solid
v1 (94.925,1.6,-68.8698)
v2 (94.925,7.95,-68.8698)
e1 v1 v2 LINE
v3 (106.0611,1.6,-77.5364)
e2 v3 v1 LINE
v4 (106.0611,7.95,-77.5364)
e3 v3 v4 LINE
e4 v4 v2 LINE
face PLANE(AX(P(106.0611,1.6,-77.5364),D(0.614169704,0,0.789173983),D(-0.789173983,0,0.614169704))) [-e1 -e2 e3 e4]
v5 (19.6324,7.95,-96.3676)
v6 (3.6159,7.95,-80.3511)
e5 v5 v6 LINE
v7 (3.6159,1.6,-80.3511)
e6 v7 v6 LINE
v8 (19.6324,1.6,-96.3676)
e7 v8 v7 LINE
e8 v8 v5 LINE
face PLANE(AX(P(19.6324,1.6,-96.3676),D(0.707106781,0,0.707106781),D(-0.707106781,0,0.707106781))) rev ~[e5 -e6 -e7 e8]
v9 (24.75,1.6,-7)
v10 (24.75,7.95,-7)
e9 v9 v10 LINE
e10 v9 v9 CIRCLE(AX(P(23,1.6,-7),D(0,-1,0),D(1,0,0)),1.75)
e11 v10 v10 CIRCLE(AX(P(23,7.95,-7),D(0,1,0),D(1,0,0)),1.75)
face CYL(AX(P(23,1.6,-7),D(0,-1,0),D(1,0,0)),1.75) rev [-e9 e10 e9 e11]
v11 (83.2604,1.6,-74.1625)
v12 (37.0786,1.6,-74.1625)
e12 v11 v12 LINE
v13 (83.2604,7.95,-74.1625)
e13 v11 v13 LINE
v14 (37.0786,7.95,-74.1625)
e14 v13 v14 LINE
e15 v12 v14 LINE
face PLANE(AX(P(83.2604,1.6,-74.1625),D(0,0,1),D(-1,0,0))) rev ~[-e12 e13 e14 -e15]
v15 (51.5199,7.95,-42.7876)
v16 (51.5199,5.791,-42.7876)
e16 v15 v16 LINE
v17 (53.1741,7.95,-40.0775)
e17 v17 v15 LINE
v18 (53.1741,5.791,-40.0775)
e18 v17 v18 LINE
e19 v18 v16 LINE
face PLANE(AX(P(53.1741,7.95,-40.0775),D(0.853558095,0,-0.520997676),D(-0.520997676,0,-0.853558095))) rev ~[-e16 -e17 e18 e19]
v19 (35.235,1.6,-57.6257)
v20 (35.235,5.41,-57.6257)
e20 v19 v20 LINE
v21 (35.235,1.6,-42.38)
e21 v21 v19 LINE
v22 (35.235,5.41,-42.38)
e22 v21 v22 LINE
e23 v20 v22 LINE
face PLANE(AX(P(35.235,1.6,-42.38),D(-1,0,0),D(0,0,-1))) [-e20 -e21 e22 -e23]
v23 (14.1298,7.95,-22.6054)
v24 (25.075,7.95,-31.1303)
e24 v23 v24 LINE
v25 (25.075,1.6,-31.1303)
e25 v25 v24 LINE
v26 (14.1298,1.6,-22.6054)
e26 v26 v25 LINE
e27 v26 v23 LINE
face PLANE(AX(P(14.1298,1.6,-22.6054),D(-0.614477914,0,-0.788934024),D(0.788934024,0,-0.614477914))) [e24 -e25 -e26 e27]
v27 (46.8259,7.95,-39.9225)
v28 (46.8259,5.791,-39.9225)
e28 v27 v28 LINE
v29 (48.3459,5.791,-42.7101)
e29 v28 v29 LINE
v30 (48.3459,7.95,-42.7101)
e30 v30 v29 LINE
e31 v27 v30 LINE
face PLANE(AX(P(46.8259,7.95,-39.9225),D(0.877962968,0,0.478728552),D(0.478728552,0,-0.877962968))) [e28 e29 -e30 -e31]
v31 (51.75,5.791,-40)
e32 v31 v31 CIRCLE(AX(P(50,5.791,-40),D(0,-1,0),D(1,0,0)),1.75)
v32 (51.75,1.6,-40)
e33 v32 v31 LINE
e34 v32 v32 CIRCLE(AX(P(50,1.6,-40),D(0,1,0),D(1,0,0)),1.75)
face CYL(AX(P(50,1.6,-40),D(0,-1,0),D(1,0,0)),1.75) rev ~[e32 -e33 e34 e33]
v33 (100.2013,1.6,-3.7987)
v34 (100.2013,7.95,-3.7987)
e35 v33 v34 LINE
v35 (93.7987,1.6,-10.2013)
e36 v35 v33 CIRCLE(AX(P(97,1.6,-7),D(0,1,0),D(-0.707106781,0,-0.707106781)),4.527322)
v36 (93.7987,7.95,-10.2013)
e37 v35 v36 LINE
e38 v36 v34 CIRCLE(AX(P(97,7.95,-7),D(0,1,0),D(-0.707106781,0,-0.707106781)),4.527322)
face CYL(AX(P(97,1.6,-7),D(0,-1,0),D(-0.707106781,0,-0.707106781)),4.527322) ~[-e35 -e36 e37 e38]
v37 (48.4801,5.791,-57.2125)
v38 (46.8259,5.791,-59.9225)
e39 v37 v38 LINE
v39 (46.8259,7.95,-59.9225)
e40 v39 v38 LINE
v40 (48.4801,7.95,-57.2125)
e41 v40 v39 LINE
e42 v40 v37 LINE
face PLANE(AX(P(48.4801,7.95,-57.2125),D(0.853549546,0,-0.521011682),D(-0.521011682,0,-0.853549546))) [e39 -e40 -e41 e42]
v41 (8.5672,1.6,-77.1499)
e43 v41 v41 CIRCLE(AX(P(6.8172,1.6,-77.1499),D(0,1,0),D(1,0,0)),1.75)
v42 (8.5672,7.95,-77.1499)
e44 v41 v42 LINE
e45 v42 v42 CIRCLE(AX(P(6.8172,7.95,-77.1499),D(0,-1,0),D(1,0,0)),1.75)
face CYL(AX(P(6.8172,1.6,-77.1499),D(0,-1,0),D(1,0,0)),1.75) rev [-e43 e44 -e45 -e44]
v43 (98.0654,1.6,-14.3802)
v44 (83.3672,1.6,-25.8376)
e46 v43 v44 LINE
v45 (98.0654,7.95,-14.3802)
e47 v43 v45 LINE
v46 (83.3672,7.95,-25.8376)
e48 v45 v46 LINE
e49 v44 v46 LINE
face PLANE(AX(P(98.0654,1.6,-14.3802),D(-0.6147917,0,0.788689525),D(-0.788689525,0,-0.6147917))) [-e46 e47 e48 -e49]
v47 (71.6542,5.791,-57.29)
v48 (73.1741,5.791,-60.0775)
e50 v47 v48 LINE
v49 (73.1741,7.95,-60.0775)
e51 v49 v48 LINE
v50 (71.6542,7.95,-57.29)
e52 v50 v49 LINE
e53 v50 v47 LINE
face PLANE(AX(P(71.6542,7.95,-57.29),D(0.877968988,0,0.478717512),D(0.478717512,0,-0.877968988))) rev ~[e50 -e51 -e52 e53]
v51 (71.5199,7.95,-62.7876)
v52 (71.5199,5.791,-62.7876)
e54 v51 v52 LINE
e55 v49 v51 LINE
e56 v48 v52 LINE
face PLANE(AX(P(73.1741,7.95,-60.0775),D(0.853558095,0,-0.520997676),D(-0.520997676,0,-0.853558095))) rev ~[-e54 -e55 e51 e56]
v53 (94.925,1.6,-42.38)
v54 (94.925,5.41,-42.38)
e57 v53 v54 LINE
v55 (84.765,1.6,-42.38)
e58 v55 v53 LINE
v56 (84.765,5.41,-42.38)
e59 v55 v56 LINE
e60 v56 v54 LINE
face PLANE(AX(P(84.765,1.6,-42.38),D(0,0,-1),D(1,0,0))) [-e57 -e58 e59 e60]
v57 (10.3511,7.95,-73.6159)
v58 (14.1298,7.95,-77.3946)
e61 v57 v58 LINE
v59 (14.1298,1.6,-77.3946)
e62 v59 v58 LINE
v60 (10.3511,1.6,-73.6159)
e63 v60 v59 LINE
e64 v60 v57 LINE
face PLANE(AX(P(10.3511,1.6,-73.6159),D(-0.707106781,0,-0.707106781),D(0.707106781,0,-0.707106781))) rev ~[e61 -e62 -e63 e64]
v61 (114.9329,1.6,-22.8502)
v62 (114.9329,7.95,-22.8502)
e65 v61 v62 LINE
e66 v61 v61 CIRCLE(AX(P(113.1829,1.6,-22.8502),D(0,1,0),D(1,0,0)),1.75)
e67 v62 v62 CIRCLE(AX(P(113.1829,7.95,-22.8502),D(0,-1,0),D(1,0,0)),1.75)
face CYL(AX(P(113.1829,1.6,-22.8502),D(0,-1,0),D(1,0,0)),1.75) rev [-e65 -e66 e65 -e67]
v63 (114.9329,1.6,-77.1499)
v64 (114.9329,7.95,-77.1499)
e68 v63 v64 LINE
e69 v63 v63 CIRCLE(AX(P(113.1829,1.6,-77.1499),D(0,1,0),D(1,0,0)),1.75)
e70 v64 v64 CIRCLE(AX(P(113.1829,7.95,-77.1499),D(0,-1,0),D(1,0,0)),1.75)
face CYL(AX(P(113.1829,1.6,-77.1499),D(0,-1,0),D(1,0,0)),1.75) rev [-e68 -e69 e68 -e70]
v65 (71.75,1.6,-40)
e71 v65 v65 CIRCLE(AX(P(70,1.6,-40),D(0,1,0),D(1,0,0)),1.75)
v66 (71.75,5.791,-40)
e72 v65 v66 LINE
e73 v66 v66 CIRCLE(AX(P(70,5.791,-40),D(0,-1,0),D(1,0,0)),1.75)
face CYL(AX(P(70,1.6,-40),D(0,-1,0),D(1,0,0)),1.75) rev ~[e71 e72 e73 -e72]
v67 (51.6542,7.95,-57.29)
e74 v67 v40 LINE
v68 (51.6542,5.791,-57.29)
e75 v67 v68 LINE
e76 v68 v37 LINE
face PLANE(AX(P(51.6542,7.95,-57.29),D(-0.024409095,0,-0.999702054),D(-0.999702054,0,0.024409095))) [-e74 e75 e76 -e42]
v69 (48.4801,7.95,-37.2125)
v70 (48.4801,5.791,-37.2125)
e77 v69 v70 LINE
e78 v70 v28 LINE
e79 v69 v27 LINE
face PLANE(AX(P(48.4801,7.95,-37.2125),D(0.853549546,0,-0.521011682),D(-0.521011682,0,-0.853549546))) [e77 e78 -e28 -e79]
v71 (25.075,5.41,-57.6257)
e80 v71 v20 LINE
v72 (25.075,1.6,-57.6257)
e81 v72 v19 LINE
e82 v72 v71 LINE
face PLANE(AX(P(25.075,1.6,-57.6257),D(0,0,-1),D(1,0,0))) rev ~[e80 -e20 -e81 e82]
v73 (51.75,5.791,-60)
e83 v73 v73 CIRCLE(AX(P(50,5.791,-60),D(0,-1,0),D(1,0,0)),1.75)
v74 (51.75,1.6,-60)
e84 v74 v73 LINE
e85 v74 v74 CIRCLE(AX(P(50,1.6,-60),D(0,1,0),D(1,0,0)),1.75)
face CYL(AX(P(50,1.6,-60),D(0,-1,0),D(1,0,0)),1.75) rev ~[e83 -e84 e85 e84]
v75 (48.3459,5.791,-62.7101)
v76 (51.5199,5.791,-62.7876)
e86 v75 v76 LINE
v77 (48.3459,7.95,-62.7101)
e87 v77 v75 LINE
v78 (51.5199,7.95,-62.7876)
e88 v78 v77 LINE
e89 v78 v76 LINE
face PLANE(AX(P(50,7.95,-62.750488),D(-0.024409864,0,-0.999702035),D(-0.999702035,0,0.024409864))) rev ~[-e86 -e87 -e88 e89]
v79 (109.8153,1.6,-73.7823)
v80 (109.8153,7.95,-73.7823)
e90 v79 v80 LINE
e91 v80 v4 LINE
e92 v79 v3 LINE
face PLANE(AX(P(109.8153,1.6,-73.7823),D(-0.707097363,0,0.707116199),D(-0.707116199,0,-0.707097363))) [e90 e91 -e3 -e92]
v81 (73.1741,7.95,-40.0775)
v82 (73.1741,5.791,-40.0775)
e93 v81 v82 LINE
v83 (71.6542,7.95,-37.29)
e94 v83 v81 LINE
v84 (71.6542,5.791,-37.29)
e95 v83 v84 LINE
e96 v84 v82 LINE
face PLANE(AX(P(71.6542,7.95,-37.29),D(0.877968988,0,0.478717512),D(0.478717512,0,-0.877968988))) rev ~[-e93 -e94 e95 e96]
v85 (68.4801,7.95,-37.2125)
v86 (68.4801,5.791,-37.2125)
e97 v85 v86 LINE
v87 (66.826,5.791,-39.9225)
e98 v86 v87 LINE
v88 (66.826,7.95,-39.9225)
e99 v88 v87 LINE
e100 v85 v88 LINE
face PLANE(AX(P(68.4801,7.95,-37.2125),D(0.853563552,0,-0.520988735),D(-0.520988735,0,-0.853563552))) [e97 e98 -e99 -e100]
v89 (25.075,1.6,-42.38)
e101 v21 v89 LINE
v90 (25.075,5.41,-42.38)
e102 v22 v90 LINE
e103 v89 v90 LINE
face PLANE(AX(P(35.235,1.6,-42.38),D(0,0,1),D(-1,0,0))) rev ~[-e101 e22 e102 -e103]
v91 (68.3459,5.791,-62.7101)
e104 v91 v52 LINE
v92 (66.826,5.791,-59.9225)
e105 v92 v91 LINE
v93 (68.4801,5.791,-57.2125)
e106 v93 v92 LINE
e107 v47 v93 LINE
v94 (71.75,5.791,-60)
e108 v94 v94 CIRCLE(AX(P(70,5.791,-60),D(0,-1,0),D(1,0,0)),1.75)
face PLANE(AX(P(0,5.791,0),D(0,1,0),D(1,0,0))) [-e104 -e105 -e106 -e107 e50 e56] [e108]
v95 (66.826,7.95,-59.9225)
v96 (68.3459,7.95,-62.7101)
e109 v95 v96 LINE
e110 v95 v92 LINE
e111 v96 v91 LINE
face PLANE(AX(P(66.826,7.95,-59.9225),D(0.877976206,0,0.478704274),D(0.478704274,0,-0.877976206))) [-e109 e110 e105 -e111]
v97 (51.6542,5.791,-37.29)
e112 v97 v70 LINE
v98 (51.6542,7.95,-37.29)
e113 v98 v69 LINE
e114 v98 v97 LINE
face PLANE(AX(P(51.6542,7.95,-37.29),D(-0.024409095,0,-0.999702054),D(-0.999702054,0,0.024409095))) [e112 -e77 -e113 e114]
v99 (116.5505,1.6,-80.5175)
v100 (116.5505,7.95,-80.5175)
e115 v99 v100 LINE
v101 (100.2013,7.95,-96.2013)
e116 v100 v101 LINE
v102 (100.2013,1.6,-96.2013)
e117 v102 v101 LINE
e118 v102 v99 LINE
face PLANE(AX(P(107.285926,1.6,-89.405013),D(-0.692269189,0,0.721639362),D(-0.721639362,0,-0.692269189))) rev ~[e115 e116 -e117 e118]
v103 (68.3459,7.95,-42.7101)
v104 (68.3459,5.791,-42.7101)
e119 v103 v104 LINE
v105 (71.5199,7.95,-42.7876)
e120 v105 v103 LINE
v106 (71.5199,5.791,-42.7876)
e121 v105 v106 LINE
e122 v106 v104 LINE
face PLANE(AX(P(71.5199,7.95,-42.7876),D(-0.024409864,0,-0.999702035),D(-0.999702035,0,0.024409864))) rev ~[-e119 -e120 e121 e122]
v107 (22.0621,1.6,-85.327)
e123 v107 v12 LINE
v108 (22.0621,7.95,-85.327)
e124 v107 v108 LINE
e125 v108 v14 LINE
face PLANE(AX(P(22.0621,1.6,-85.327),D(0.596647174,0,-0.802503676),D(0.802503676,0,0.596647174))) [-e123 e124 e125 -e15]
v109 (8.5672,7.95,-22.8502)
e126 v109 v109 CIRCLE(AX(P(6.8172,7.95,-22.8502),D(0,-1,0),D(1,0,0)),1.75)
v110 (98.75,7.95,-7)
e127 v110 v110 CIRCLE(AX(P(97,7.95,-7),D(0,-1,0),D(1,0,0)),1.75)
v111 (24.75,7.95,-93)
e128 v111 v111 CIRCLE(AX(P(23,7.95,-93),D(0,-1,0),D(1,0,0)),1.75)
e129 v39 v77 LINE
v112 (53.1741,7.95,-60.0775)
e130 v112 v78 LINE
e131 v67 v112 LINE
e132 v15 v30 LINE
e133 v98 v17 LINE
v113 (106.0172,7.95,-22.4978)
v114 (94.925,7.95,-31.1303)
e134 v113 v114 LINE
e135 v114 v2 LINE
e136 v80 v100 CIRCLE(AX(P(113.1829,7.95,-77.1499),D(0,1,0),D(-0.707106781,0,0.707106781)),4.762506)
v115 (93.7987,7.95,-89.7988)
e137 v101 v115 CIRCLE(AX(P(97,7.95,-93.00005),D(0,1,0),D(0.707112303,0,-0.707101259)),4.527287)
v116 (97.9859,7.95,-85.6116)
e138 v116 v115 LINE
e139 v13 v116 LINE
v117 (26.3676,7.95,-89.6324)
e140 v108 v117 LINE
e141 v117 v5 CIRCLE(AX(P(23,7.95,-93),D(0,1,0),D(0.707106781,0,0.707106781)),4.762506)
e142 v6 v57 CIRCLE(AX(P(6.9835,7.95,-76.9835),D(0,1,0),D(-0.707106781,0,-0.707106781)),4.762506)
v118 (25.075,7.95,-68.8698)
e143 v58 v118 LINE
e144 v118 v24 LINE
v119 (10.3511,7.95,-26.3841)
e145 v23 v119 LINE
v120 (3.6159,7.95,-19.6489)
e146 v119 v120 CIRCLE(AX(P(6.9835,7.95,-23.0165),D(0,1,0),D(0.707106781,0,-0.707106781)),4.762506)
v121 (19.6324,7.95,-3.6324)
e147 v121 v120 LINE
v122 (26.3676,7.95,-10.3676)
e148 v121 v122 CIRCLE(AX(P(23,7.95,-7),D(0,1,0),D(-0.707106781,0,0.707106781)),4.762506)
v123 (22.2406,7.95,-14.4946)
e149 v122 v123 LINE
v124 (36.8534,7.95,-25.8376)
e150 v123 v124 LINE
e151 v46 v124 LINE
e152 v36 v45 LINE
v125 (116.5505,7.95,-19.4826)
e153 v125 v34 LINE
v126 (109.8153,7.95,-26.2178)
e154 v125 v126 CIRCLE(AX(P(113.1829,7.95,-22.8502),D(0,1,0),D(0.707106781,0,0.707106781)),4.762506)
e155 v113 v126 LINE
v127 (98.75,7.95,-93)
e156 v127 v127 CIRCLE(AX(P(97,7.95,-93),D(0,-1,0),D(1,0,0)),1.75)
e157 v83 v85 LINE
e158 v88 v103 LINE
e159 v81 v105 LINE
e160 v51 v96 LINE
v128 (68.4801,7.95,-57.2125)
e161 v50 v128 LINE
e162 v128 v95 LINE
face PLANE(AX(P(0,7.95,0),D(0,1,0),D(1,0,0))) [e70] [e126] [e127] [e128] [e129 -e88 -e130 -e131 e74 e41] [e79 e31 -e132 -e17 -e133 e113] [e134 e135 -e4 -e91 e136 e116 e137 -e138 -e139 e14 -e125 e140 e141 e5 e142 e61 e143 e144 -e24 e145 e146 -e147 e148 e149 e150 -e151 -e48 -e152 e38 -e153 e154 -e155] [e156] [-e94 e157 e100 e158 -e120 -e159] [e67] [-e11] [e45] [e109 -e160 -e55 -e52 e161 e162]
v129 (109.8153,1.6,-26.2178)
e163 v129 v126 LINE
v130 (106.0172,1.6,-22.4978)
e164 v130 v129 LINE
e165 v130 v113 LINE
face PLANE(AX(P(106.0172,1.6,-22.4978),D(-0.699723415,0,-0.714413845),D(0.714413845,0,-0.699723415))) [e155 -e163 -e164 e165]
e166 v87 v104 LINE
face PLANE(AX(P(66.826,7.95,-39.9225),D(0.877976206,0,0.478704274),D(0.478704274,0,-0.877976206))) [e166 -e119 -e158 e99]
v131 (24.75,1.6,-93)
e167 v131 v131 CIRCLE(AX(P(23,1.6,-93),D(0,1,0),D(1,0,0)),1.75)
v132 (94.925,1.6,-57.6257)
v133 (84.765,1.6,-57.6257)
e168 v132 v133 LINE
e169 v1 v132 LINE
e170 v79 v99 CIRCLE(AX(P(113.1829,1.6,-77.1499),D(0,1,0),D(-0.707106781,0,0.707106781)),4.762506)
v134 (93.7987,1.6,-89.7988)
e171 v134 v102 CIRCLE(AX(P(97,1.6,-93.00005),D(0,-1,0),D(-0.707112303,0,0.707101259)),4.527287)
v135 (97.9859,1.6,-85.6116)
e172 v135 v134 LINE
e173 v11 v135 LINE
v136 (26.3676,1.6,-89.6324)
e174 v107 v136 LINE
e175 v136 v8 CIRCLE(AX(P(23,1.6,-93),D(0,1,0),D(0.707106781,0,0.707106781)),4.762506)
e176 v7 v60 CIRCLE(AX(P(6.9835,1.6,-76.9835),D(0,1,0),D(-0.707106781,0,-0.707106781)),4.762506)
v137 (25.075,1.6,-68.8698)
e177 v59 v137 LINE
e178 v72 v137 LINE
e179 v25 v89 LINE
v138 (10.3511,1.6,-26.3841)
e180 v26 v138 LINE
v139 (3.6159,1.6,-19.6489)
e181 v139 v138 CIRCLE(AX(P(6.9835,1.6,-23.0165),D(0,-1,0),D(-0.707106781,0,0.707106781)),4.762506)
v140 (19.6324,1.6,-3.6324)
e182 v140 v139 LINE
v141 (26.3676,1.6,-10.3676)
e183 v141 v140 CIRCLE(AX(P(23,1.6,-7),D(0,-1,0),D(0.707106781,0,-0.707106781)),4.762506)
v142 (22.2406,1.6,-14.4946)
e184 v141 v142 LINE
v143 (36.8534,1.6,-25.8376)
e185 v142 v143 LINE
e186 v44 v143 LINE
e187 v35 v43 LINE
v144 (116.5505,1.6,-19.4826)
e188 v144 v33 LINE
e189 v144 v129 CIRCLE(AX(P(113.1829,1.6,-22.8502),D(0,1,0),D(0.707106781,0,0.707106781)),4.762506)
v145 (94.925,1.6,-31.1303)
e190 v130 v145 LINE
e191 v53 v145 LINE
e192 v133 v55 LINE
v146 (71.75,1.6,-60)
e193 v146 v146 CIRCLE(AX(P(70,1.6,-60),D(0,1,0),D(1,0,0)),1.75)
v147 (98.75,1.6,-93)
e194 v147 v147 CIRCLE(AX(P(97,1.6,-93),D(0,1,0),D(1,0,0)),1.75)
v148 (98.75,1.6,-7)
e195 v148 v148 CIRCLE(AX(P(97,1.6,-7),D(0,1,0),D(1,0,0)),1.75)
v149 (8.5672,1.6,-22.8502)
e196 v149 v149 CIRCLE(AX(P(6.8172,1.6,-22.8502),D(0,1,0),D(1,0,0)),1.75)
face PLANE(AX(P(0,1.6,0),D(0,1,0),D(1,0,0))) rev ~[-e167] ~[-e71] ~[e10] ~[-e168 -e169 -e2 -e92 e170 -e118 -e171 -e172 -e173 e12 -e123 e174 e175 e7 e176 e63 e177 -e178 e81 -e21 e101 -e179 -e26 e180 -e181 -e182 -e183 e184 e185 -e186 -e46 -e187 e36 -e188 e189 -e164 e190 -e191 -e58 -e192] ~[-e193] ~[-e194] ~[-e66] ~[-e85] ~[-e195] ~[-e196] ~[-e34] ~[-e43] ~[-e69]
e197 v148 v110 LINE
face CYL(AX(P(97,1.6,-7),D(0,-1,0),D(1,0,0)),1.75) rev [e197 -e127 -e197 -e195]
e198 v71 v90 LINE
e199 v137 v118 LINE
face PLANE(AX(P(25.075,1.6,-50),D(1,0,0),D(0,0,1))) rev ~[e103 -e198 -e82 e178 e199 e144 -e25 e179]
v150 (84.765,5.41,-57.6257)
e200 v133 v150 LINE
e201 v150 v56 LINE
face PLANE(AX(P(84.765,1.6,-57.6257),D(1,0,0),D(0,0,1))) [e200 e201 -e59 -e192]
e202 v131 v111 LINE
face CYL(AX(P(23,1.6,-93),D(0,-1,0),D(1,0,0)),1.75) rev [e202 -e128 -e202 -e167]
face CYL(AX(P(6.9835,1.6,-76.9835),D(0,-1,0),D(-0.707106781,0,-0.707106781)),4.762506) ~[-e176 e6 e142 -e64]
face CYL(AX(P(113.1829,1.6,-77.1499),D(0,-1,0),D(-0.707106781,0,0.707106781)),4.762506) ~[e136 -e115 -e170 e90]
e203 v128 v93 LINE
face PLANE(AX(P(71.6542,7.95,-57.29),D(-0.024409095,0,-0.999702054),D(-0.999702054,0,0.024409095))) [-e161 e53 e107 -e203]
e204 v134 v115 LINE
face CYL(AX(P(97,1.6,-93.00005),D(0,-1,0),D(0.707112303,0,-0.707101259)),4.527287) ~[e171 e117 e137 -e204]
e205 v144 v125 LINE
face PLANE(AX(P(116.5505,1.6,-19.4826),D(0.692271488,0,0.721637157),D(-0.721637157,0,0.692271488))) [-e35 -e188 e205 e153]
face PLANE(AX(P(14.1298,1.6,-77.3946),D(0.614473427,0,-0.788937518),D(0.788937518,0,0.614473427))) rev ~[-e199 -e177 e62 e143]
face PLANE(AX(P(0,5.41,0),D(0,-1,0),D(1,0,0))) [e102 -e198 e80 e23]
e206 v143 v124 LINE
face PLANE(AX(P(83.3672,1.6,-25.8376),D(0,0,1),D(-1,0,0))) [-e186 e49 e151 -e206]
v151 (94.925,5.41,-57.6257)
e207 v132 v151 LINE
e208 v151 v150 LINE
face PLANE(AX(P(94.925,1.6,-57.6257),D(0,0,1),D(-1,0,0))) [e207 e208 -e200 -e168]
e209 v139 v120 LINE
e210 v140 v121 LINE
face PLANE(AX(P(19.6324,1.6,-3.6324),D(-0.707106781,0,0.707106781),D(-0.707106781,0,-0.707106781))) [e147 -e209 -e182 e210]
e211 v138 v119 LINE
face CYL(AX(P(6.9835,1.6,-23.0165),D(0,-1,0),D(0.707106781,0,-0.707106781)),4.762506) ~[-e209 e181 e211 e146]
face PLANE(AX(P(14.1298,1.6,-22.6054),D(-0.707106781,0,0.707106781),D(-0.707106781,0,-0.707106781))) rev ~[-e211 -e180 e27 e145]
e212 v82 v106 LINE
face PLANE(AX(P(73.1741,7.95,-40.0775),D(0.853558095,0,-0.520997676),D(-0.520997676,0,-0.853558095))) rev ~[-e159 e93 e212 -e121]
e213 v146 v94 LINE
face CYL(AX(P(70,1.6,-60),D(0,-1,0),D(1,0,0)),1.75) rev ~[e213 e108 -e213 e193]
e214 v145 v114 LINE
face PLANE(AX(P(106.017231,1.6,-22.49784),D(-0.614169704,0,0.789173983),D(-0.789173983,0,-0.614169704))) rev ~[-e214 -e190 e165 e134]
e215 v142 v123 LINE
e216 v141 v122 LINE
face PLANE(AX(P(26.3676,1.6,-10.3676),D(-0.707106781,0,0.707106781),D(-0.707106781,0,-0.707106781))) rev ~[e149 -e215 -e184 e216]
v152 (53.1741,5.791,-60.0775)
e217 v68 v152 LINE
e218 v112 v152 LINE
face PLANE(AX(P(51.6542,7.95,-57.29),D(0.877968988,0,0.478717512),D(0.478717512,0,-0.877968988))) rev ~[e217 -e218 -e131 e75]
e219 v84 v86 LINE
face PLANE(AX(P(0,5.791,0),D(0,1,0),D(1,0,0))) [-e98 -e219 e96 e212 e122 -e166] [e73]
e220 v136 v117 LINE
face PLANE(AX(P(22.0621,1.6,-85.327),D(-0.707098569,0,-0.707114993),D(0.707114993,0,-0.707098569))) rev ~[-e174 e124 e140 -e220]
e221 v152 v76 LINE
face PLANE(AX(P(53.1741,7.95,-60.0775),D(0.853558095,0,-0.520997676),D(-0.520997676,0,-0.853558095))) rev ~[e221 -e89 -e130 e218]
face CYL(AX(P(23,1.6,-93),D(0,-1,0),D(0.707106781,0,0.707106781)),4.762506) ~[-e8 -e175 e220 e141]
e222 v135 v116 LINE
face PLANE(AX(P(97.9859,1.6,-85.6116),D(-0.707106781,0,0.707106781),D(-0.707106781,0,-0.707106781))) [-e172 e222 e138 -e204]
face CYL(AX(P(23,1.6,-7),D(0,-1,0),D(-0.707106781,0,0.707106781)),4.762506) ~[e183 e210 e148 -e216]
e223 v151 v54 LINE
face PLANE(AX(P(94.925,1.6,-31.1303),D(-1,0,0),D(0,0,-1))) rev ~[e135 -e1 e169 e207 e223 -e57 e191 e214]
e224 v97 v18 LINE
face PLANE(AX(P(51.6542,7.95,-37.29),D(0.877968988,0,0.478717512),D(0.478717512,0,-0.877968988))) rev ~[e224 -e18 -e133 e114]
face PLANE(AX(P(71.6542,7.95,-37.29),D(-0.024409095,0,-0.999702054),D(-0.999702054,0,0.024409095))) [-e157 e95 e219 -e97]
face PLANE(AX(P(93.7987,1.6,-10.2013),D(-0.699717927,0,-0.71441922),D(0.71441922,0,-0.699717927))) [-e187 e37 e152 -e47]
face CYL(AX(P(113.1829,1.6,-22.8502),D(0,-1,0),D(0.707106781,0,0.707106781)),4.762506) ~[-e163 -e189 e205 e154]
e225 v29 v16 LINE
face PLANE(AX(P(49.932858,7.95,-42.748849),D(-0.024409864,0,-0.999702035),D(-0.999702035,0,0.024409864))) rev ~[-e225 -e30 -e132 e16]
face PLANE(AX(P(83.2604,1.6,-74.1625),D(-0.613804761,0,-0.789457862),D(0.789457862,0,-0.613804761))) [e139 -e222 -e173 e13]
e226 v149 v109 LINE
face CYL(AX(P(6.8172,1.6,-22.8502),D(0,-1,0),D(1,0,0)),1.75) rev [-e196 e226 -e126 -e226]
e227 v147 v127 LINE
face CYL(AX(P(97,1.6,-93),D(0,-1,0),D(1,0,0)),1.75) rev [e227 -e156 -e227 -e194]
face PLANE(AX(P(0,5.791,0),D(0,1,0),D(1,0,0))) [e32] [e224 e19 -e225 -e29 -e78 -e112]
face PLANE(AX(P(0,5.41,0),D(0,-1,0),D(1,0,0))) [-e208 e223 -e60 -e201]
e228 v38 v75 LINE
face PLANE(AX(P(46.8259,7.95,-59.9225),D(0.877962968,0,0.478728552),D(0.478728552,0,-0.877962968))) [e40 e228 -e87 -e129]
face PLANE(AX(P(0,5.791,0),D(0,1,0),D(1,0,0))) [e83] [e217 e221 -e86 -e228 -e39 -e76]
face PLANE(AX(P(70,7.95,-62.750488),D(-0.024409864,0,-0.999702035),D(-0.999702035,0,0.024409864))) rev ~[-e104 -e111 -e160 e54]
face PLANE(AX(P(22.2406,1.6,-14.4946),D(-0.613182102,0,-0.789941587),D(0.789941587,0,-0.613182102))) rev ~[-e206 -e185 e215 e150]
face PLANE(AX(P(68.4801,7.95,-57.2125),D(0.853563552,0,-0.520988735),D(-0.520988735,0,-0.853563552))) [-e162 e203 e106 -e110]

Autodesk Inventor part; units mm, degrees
ref_plane "YZ Plane" through (0, 0, 0) normal (1, 0, 0) x (0, 1, 0)
ref_plane "XZ Plane" through (0, 0, 0) normal (0, 1, 0) x (-1, 0, 0)
ref_plane "Work Plane1" through (0, 1.6, 0) normal (0, 1, 0) x (1, 0, 0)
sketch "Sketch2" plane through (0, 1.6, 0) normal (0, 1, 0) x (1, 0, 0)
  circle A0 centre (23, 7) radius 1.75 projected
  line L0 (21.25, 7) -> (23, 7)
  circle A1 centre (6.8172, 22.8502) radius 1.75 projected
  line L1 (5.0672, 22.8502) -> (6.8172, 22.8502)
  circle A2 centre (6.8172, 77.1499) radius 1.75 projected
  line L2 (5.0672, 77.1499) -> (6.8172, 77.1499)
  circle A3 centre (23, 93) radius 1.75 projected
  line L3 (21.25, 93) -> (23, 93)
  circle A4 centre (97, 7) radius 1.75 projected
  line L4 (95.25, 7) -> (97, 7)
  circle A5 centre (113.1829, 22.8502) radius 1.75 projected
  line L5 (111.4329, 22.8502) -> (113.1829, 22.8502)
  circle A6 centre (113.1829, 77.1499) radius 1.75 projected
  line L6 (111.4329, 77.1499) -> (113.1829, 77.1499)
  circle A7 centre (97, 93) radius 1.75 projected
  line L7 (95.25, 93) -> (97, 93)
  circle A8 centre (23, 7) radius 1.75
  circle A9 centre (6.8172, 22.8502) radius 1.75
  circle A10 centre (6.8172, 77.1499) radius 1.75
  circle A11 centre (23, 93) radius 1.75
  circle A12 centre (97, 93) radius 1.75
  circle A13 centre (113.1829, 77.1499) radius 1.75
  circle A14 centre (113.1829, 22.8502) radius 1.75
  circle A15 centre (97, 7) radius 1.75
  line L8 (6.8172, 22.8502) -> (2.2899, 22.8502)
  line L9 (6.8172, 22.8502) -> (3.6159, 19.6489)
  line L10 (23, 7) -> (18.2375, 7)
  line L11 (23, 7) -> (19.6324, 3.6324)
  line L12 (19.6324, 3.6324) -> (3.6159, 19.6489)
  line L13 (6.8172, 22.8502) -> (10.3511, 26.3841)
  line L14 (23, 7) -> (26.3676, 10.3676)
  line L15 (120, 100.0001) -> (0, 100.0001) projected
  line L16 (113.1829, 77.1499) -> (108.4204, 77.1499)
  line L17 (113.1829, 77.1499) -> (109.8153, 73.7823)
  line L18 (113.1829, 77.1499) -> (116.5505, 80.5175)
  line L19 (97, 93) -> (92.4727, 93)
  line L20 (97, 93) -> (93.7987, 89.7988)
  line L21 (97, 93) -> (100.2013, 96.2013)
  line L22 (116.5505, 80.5175) -> (100.2013, 96.2013)
  line L23 (23, 7) -> (6.8172, 22.8502)
  line L24 (23, 7) -> (23, -11.3324)
  line L25 (23, 7) -> (14.9089, 14.9248)
  line L26 (113.1829, 77.1499) -> (97, 93)
  line L27 (97, 93) -> (97, 106.2617)
  line L28 (97, 93) -> (105.0911, 85.0752)
  line L29 (0, 0) -> (0, 50)
  line L30 (0, 100.0001) -> (0, 0) projected
  line L31 (120, 0) -> (120, 100.0001) projected
  line L32 (19.6324, 96.3676) -> (3.6159, 80.3511)
  line L33 (116.5505, 19.4826) -> (100.2013, 3.7987)
  arc A16 (19.6324, 3.6324) -> (26.3676, 10.3676) centre (23, 7) ccw
  arc A17 (10.3511, 26.3841) -> (3.6159, 19.6489) centre (6.9835, 23.0165) ccw
  line L34 (22.0621, 85.327) -> (37.0786, 74.1625)
  line L35 (83.2604, 74.1625) -> (97.9859, 85.6116)
  arc A18 (3.6159, 80.3511) -> (10.3511, 73.6159) centre (6.9835, 76.9835) ccw
  arc A19 (26.3676, 89.6324) -> (19.6324, 96.3676) centre (23, 93) ccw
  arc A20 (116.5505, 19.4826) -> (109.8153, 26.2178) centre (113.1829, 22.8502) ccw
  line L36 (93.7987, 10.2013) -> (98.0654, 14.3802)
  line L37 (106.0172, 22.4978) -> (109.8153, 26.2178)
  arc A21 (109.8153, 73.7823) -> (116.5505, 80.5175) centre (113.1829, 77.1499) ccw
  arc A22 (100.2013, 96.2013) -> (93.7987, 89.7988) centre (97, 93) ccw
  line L38 (10.3511, 73.6159) -> (14.1298, 77.3946)
  line L39 (22.0621, 85.327) -> (26.3676, 89.6324)
  arc A23 (93.7987, 10.2013) -> (100.2013, 3.7987) centre (97, 7) ccw
  line L40 (15.5072, 21.228) -> (10.3511, 26.3841)
  line L41 (26.3676, 10.3676) -> (22.2406, 14.4946)
  line L42 (109.8153, 73.7823) -> (106.0611, 77.5364)
  line L43 (97.9859, 85.6116) -> (93.7987, 89.7988)
  line L44 (22.2406, 14.4946) -> (15.5072, 21.228)
  line L45 (6.8172, 22.8502) -> (6.8172, 36.0698)
  line L46 (31.9559, 119.5066) -> (31.9559, 155.0666)
  line L47 (31.9559, 155.0666) -> (-39.1641, 155.0666)
  line L48 (-39.1641, 155.0666) -> (-39.1641, 119.5066)
  line L49 (-39.1641, 119.5066) -> (31.9559, 119.5066)
  line L50 (24.3041, 175.988) -> (54.7841, 175.988)
  line L51 (54.7841, 175.988) -> (54.7841, 203.928)
  line L52 (54.7841, 203.928) -> (24.3041, 203.928)
  line L53 (24.3041, 203.928) -> (24.3041, 175.988)
  line L54 (83.3672, 25.8376) -> (36.8534, 25.8376)
  line L55 (83.2604, 74.1625) -> (37.0786, 74.1625)
  line L56 (94.925, 31.1303) -> (94.925, 68.8698)
  line L57 (22.2406, 14.4946) -> (36.8534, 25.8376)
  line L58 (98.0654, 14.3802) -> (83.3672, 25.8376)
  line L59 (0, 50) -> (34.6, 50)
  line L60 (103.7116, 86.4264) -> (120, 100.0001)
  line L61 (106.0611, 77.5364) -> (94.925, 68.8698)
  line L62 (34.6, 50) -> (109.6103, 50)
  line L63 (14.1298, 77.3946) -> (25.075, 68.8698)
  line L64 (106.0611, 22.4637) -> (94.925, 31.1303)
  line L65 (14.1298, 22.6054) -> (25.075, 31.1303)
  line L66 (25.075, 68.8698) -> (25.075, 31.1303)
  dimension "d20" = 45
  dimension "d21" = 45
  dimension "d22" = 45
  dimension "d23" = 45
  dimension "d26" = 50
  dimension "d41" = 16.0165
  dimension "d42" = 4.7625
  dimension "d43" = 4.7625
  dimension "d44" = 6.7335
  dimension "d45" = 134.405
  dimension "d49" = 71.12
  dimension "d50" = 35.56
  dimension "d53" = 27.94
  dimension "d54" = 30.48
extrude "Extrusion4" add sketch "Sketch2" along normal blind 6.35 contours A0 L14 A16 L24 | A0 L23 A1 L13 L40 L44 L41 L14 | L24 A16 L11 A0 | A0 L11 L12 L9 A1 L23 | L44 L40 L65 L66 L59 L62 L56 L64 L37 A20 L33 A23 L36 L58 L54 L57 | A17 L45 A1 L9 | A17 L13 A1 L45 | L66 L63 L38 A18 L32 A19 L39 L34 L55 L35 L43 L20 A7 L26 A6 L17 L42 L61 L56 L62 L59 | A22 L21 A7 L27 | L27 A7 L19 A22 | L60 L26 A7 L21 L22 | L22 L18 A6 L26 L60 | L19 A7 L20 A22 | L17 A6 L18 A21
sketch "Sketch18" plane through (0, 1.6, 0) normal (0, -1, 0) x (1, 0, 0)
  line L0 (83.2604, -74.1625) -> (37.0786, -74.1625) projected
  line L1 (22.2406, -14.4946) -> (36.8534, -25.8376) projected
  line L2 (94.925, -74.1625) -> (25.075, -74.1625)
  line L3 (25.075, -74.1625) -> (25.075, -25.8376)
  line L4 (25.075, -25.8376) -> (94.925, -25.8376)
  line L5 (94.925, -25.8376) -> (94.925, -74.1625)
  line L6 (75, -66) -> (45, -66)
  line L7 (45, -66) -> (45, -34.0001)
  line L8 (45, -34.0001) -> (75, -34.0001)
  line L9 (75, -34.0001) -> (75, -66)
  line L10 (70, -60) -> (50, -60)
  line L11 (50, -60) -> (50, -40)
  line L12 (50, -40) -> (70, -40)
  line L13 (70, -40) -> (70, -60)
  line L14 (0, -99.1742) -> (0, 0)
  circle A0 centre (50, -60) radius 1.75
  circle A1 centre (50, -40) radius 1.75
  circle A2 centre (70, -60) radius 1.75
  circle A3 centre (70, -40) radius 1.75
  point P0 (94.925, -71.2652)
  point P1 (25.075, -28.6863)
  dimension "d111" = 29.9999
  dimension "d112" = 48.3249
  dimension "d113" = 69.85
  dimension "d114" = 31.9999
  dimension "d115" = 19.925
  dimension "d118" = 20
  dimension "d119" = 20
  dimension "d120" = 5
  dimension "d121" = 25.075
  dimension "d122" = 6
  dimension "d124" = 3.5
  dimension "d125" = 3.5
  dimension "d126" = 3.5
  dimension "d127" = 3.5
  dimension "d130" = 8.1625
extrude "Extrusion15" cut sketch "Sketch18" against normal blind 12.9499 contours A0 L11 L10 | L10 L11 A0 | A2 L13 L10 | L10 L13 A2 | A1 L12 L11 | L11 L12 A1 | A3 L12 L13 | L13 L12 A3
sketch "Sketch25" plane through (0, 7.95, 0) normal (0, 1, 0) x (1, 0, 0)
  circle A0 centre (70, 40) radius 1.75 projected
  line L0 (70, 40) -> (66.826, 39.9225)
  line L1 (70, 40) -> (68.3459, 42.7101)
  line L2 (70, 40) -> (71.5199, 42.7876)
  line L3 (70, 40) -> (73.1741, 40.0775)
  line L4 (70, 40) -> (71.6542, 37.29)
  line L5 (70, 40) -> (68.4801, 37.2125)
  line L6 (73.1741, 40.0775) -> (71.5199, 42.7876)
  line L7 (71.5199, 42.7876) -> (68.3459, 42.7101)
  line L8 (66.826, 39.9225) -> (68.3459, 42.7101)
  line L9 (68.4801, 37.2125) -> (66.826, 39.9225)
  line L10 (71.6542, 37.29) -> (73.1741, 40.0775)
  line L11 (71.6542, 37.29) -> (68.4801, 37.2125)
  line L12 (70, 60) -> (66.826, 59.9225)
  line L13 (70, 60) -> (68.3459, 62.7101)
  line L14 (70, 60) -> (71.5199, 62.7876)
  line L15 (70, 60) -> (73.1741, 60.0775)
  line L16 (70, 60) -> (71.6542, 57.29)
  line L17 (70, 60) -> (68.4801, 57.2125)
  line L18 (73.1741, 60.0775) -> (71.5199, 62.7876)
  line L19 (71.5199, 62.7876) -> (68.3459, 62.7101)
  line L20 (66.826, 59.9225) -> (68.3459, 62.7101)
  line L21 (68.4801, 57.2125) -> (66.826, 59.9225)
  line L22 (71.6542, 57.29) -> (73.1741, 60.0775)
  line L23 (71.6542, 57.29) -> (68.4801, 57.2125)
  line L24 (50, 60) -> (46.8259, 59.9225)
  line L25 (50, 60) -> (48.3459, 62.7101)
  line L26 (50, 60) -> (51.5199, 62.7876)
  line L27 (50, 60) -> (53.1741, 60.0775)
  line L28 (50, 60) -> (51.6542, 57.29)
  line L29 (50, 60) -> (48.4801, 57.2125)
  line L30 (53.1741, 60.0775) -> (51.5199, 62.7876)
  line L31 (51.5199, 62.7876) -> (48.3459, 62.7101)
  line L32 (46.8259, 59.9225) -> (48.3459, 62.7101)
  line L33 (48.4801, 57.2125) -> (46.8259, 59.9225)
  line L34 (51.6542, 57.29) -> (53.1741, 60.0775)
  line L35 (51.6542, 57.29) -> (48.4801, 57.2125)
  line L36 (50, 40) -> (46.8259, 39.9225)
  line L37 (50, 40) -> (48.3459, 42.7101)
  line L38 (50, 40) -> (51.5199, 42.7876)
  line L39 (50, 40) -> (53.1741, 40.0775)
  line L40 (50, 40) -> (51.6542, 37.29)
  line L41 (50, 40) -> (48.4801, 37.2125)
  line L42 (53.1741, 40.0775) -> (51.5199, 42.7876)
  line L43 (51.5199, 42.7876) -> (48.3459, 42.7101)
  line L44 (46.8259, 39.9225) -> (48.3459, 42.7101)
  line L45 (48.4801, 37.2125) -> (46.8259, 39.9225)
  line L46 (51.6542, 37.29) -> (53.1741, 40.0775)
  line L47 (51.6542, 37.29) -> (48.4801, 37.2125)
  circle A1 centre (70, 60) radius 1.75 projected
  line L48 (70, 60) -> (70, 63.9973)
  circle A2 centre (50, 60) radius 1.75 projected
  line L49 (50, 60) -> (50, 63.553)
  circle A3 centre (50, 40) radius 1.75 projected
  line L50 (50, 40) -> (49.9075, 43.787)
  point P0 (0, 0)
  dimension "d241" = 34.925
  dimension "d244" = 15.2456
  dimension "d245" = 10.16
  dimension "d168" = 3.175
  dimension "d169" = 3.175
  dimension "d170" = 3.175
  dimension "d171" = 3.175
  dimension "d172" = 3.175
  dimension "d173" = 3.175
  dimension "d174" = 60
  dimension "d175" = 60
  dimension "d176" = 60
  dimension "d177" = 60
  dimension "d178" = 60
  dimension "d179" = 3.175
  dimension "d180" = 3.175
  dimension "d181" = 3.175
  dimension "d182" = 3.175
  dimension "d183" = 3.175
  dimension "d184" = 3.175
  dimension "d185" = 60
  dimension "d186" = 60
  dimension "d187" = 60
  dimension "d188" = 60
  dimension "d189" = 60
  dimension "d190" = 3.175
  dimension "d191" = 3.175
  dimension "d192" = 3.175
  dimension "d193" = 3.175
  dimension "d194" = 3.175
  dimension "d195" = 3.175
  dimension "d196" = 60
  dimension "d197" = 60
  dimension "d198" = 60
  dimension "d199" = 60
  dimension "d200" = 60
  dimension "d201" = 3.175
  dimension "d202" = 3.175
  dimension "d203" = 3.175
  dimension "d204" = 3.175
  dimension "d205" = 3.175
  dimension "d206" = 3.175
  dimension "d207" = 60
  dimension "d208" = 60
  dimension "d209" = 60
  dimension "d210" = 60
  dimension "d211" = 60
extrude "Extrusion22" cut sketch "Sketch25" against normal blind 2.159 contours A0 L3 L10 L4 | A0 L2 L6 L3 | L4 L11 L5 A0 | A0 L1 L7 L2 | L5 L9 L0 A0 | A0 L0 L8 L1 | A1 L17 L21 L12 | L12 L20 L13 A1 | L13 L19 L48 A1 | A1 L48 L19 L14 | L14 L18 L15 A1 | L15 L22 L16 A1 | L16 L23 L17 A1 | A2 L29 L33 L24 | L24 L32 L25 A2 | L25 L31 L49 A2 | A2 L49 L31 L26 | L26 L30 L27 A2 | L27 L34 L28 A2 | L28 L35 L29 A2 | A3 L41 L45 L36 | L36 L44 L37 A3 | L37 L43 L50 A3 | A3 L50 L43 L38 | L38 L42 L39 A3 | L39 L46 L40 A3 | L40 L47 L41 A3
sketch "Sketch30" plane through (0, 1.6, 0) normal (0, -1, 0) x (1, 0, 0)
  line L0 (36.8534, -25.8376) -> (83.3672, -25.8376) projected
  line L1 (36.8534, -25.8376) -> (26.6397, -25.8376)
  line L2 (26.6397, -25.8376) -> (19.1384, -25.8376)
  line L3 (25.075, -28.6863) -> (15.5072, -21.228) projected
  line L4 (25.075, -28.6863) -> (25.075, -19.9564)
  line L5 (25.075, -71.2738) -> (25.075, -28.6863) projected
  line L6 (25.075, -71.2738) -> (25.075, -79.7824)
  line L7 (83.2604, -74.1625) -> (37.0786, -74.1625) projected
  line L8 (37.0786, -74.1625) -> (22.4586, -74.1625)
  line L9 (25.075, -25.8376) -> (35.235, -25.8376)
  line L10 (35.235, -25.8376) -> (35.235, -74.1625)
  line L11 (35.235, -74.1625) -> (25.075, -74.1625)
  line L12 (25.075, -74.1625) -> (25.075, -25.8376)
  line L13 (25.075, -25.8376) -> (25.075, -50.0057)
  line L14 (25.075, -50.0057) -> (35.235, -50)
  line L15 (35.235, -50) -> (35.235, -42.38)
  line L16 (25.075, -50.0057) -> (25.075, -57.6257)
  line L17 (35.235, -42.38) -> (25.075, -42.38)
  line L18 (25.075, -42.38) -> (25.075, -57.6257)
  line L19 (25.075, -57.6257) -> (35.235, -57.6257)
  line L20 (35.235, -57.6257) -> (35.235, -42.38)
  line L21 (83.3672, -25.8376) -> (97.0518, -25.8376)
  line L22 (94.925, -28.7897) -> (94.925, -24.641)
  line L23 (94.925, -25.8376) -> (60, -25.8376)
  line L24 (60, -25.8376) -> (60, -91.5414)
  line L25 (94.925, -25.8376) -> (94.925, -50.0057)
  line L26 (94.925, -50.0057) -> (94.925, -57.6257)
  line L27 (84.765, -42.38) -> (94.925, -42.38)
  line L28 (94.925, -57.6257) -> (84.765, -57.6257)
  line L29 (84.765, -57.6257) -> (84.765, -42.38)
  point P0 (0, 0)
  dimension "d235" = 10.16
  dimension "d236" = 24.1681
  dimension "d237" = 7.62
  dimension "d238" = 7.62
  dimension "d241" = 34.925
  dimension "d244" = 15.2456
  dimension "d245" = 10.16
extrude "Extrusion30" cut sketch "Sketch30" against normal blind 3.81 contours L25 L26 L28 L29 L27 | L10 L14 L5 L17 | L10 L19 L5 L14
properties part number "Drone_cross"
